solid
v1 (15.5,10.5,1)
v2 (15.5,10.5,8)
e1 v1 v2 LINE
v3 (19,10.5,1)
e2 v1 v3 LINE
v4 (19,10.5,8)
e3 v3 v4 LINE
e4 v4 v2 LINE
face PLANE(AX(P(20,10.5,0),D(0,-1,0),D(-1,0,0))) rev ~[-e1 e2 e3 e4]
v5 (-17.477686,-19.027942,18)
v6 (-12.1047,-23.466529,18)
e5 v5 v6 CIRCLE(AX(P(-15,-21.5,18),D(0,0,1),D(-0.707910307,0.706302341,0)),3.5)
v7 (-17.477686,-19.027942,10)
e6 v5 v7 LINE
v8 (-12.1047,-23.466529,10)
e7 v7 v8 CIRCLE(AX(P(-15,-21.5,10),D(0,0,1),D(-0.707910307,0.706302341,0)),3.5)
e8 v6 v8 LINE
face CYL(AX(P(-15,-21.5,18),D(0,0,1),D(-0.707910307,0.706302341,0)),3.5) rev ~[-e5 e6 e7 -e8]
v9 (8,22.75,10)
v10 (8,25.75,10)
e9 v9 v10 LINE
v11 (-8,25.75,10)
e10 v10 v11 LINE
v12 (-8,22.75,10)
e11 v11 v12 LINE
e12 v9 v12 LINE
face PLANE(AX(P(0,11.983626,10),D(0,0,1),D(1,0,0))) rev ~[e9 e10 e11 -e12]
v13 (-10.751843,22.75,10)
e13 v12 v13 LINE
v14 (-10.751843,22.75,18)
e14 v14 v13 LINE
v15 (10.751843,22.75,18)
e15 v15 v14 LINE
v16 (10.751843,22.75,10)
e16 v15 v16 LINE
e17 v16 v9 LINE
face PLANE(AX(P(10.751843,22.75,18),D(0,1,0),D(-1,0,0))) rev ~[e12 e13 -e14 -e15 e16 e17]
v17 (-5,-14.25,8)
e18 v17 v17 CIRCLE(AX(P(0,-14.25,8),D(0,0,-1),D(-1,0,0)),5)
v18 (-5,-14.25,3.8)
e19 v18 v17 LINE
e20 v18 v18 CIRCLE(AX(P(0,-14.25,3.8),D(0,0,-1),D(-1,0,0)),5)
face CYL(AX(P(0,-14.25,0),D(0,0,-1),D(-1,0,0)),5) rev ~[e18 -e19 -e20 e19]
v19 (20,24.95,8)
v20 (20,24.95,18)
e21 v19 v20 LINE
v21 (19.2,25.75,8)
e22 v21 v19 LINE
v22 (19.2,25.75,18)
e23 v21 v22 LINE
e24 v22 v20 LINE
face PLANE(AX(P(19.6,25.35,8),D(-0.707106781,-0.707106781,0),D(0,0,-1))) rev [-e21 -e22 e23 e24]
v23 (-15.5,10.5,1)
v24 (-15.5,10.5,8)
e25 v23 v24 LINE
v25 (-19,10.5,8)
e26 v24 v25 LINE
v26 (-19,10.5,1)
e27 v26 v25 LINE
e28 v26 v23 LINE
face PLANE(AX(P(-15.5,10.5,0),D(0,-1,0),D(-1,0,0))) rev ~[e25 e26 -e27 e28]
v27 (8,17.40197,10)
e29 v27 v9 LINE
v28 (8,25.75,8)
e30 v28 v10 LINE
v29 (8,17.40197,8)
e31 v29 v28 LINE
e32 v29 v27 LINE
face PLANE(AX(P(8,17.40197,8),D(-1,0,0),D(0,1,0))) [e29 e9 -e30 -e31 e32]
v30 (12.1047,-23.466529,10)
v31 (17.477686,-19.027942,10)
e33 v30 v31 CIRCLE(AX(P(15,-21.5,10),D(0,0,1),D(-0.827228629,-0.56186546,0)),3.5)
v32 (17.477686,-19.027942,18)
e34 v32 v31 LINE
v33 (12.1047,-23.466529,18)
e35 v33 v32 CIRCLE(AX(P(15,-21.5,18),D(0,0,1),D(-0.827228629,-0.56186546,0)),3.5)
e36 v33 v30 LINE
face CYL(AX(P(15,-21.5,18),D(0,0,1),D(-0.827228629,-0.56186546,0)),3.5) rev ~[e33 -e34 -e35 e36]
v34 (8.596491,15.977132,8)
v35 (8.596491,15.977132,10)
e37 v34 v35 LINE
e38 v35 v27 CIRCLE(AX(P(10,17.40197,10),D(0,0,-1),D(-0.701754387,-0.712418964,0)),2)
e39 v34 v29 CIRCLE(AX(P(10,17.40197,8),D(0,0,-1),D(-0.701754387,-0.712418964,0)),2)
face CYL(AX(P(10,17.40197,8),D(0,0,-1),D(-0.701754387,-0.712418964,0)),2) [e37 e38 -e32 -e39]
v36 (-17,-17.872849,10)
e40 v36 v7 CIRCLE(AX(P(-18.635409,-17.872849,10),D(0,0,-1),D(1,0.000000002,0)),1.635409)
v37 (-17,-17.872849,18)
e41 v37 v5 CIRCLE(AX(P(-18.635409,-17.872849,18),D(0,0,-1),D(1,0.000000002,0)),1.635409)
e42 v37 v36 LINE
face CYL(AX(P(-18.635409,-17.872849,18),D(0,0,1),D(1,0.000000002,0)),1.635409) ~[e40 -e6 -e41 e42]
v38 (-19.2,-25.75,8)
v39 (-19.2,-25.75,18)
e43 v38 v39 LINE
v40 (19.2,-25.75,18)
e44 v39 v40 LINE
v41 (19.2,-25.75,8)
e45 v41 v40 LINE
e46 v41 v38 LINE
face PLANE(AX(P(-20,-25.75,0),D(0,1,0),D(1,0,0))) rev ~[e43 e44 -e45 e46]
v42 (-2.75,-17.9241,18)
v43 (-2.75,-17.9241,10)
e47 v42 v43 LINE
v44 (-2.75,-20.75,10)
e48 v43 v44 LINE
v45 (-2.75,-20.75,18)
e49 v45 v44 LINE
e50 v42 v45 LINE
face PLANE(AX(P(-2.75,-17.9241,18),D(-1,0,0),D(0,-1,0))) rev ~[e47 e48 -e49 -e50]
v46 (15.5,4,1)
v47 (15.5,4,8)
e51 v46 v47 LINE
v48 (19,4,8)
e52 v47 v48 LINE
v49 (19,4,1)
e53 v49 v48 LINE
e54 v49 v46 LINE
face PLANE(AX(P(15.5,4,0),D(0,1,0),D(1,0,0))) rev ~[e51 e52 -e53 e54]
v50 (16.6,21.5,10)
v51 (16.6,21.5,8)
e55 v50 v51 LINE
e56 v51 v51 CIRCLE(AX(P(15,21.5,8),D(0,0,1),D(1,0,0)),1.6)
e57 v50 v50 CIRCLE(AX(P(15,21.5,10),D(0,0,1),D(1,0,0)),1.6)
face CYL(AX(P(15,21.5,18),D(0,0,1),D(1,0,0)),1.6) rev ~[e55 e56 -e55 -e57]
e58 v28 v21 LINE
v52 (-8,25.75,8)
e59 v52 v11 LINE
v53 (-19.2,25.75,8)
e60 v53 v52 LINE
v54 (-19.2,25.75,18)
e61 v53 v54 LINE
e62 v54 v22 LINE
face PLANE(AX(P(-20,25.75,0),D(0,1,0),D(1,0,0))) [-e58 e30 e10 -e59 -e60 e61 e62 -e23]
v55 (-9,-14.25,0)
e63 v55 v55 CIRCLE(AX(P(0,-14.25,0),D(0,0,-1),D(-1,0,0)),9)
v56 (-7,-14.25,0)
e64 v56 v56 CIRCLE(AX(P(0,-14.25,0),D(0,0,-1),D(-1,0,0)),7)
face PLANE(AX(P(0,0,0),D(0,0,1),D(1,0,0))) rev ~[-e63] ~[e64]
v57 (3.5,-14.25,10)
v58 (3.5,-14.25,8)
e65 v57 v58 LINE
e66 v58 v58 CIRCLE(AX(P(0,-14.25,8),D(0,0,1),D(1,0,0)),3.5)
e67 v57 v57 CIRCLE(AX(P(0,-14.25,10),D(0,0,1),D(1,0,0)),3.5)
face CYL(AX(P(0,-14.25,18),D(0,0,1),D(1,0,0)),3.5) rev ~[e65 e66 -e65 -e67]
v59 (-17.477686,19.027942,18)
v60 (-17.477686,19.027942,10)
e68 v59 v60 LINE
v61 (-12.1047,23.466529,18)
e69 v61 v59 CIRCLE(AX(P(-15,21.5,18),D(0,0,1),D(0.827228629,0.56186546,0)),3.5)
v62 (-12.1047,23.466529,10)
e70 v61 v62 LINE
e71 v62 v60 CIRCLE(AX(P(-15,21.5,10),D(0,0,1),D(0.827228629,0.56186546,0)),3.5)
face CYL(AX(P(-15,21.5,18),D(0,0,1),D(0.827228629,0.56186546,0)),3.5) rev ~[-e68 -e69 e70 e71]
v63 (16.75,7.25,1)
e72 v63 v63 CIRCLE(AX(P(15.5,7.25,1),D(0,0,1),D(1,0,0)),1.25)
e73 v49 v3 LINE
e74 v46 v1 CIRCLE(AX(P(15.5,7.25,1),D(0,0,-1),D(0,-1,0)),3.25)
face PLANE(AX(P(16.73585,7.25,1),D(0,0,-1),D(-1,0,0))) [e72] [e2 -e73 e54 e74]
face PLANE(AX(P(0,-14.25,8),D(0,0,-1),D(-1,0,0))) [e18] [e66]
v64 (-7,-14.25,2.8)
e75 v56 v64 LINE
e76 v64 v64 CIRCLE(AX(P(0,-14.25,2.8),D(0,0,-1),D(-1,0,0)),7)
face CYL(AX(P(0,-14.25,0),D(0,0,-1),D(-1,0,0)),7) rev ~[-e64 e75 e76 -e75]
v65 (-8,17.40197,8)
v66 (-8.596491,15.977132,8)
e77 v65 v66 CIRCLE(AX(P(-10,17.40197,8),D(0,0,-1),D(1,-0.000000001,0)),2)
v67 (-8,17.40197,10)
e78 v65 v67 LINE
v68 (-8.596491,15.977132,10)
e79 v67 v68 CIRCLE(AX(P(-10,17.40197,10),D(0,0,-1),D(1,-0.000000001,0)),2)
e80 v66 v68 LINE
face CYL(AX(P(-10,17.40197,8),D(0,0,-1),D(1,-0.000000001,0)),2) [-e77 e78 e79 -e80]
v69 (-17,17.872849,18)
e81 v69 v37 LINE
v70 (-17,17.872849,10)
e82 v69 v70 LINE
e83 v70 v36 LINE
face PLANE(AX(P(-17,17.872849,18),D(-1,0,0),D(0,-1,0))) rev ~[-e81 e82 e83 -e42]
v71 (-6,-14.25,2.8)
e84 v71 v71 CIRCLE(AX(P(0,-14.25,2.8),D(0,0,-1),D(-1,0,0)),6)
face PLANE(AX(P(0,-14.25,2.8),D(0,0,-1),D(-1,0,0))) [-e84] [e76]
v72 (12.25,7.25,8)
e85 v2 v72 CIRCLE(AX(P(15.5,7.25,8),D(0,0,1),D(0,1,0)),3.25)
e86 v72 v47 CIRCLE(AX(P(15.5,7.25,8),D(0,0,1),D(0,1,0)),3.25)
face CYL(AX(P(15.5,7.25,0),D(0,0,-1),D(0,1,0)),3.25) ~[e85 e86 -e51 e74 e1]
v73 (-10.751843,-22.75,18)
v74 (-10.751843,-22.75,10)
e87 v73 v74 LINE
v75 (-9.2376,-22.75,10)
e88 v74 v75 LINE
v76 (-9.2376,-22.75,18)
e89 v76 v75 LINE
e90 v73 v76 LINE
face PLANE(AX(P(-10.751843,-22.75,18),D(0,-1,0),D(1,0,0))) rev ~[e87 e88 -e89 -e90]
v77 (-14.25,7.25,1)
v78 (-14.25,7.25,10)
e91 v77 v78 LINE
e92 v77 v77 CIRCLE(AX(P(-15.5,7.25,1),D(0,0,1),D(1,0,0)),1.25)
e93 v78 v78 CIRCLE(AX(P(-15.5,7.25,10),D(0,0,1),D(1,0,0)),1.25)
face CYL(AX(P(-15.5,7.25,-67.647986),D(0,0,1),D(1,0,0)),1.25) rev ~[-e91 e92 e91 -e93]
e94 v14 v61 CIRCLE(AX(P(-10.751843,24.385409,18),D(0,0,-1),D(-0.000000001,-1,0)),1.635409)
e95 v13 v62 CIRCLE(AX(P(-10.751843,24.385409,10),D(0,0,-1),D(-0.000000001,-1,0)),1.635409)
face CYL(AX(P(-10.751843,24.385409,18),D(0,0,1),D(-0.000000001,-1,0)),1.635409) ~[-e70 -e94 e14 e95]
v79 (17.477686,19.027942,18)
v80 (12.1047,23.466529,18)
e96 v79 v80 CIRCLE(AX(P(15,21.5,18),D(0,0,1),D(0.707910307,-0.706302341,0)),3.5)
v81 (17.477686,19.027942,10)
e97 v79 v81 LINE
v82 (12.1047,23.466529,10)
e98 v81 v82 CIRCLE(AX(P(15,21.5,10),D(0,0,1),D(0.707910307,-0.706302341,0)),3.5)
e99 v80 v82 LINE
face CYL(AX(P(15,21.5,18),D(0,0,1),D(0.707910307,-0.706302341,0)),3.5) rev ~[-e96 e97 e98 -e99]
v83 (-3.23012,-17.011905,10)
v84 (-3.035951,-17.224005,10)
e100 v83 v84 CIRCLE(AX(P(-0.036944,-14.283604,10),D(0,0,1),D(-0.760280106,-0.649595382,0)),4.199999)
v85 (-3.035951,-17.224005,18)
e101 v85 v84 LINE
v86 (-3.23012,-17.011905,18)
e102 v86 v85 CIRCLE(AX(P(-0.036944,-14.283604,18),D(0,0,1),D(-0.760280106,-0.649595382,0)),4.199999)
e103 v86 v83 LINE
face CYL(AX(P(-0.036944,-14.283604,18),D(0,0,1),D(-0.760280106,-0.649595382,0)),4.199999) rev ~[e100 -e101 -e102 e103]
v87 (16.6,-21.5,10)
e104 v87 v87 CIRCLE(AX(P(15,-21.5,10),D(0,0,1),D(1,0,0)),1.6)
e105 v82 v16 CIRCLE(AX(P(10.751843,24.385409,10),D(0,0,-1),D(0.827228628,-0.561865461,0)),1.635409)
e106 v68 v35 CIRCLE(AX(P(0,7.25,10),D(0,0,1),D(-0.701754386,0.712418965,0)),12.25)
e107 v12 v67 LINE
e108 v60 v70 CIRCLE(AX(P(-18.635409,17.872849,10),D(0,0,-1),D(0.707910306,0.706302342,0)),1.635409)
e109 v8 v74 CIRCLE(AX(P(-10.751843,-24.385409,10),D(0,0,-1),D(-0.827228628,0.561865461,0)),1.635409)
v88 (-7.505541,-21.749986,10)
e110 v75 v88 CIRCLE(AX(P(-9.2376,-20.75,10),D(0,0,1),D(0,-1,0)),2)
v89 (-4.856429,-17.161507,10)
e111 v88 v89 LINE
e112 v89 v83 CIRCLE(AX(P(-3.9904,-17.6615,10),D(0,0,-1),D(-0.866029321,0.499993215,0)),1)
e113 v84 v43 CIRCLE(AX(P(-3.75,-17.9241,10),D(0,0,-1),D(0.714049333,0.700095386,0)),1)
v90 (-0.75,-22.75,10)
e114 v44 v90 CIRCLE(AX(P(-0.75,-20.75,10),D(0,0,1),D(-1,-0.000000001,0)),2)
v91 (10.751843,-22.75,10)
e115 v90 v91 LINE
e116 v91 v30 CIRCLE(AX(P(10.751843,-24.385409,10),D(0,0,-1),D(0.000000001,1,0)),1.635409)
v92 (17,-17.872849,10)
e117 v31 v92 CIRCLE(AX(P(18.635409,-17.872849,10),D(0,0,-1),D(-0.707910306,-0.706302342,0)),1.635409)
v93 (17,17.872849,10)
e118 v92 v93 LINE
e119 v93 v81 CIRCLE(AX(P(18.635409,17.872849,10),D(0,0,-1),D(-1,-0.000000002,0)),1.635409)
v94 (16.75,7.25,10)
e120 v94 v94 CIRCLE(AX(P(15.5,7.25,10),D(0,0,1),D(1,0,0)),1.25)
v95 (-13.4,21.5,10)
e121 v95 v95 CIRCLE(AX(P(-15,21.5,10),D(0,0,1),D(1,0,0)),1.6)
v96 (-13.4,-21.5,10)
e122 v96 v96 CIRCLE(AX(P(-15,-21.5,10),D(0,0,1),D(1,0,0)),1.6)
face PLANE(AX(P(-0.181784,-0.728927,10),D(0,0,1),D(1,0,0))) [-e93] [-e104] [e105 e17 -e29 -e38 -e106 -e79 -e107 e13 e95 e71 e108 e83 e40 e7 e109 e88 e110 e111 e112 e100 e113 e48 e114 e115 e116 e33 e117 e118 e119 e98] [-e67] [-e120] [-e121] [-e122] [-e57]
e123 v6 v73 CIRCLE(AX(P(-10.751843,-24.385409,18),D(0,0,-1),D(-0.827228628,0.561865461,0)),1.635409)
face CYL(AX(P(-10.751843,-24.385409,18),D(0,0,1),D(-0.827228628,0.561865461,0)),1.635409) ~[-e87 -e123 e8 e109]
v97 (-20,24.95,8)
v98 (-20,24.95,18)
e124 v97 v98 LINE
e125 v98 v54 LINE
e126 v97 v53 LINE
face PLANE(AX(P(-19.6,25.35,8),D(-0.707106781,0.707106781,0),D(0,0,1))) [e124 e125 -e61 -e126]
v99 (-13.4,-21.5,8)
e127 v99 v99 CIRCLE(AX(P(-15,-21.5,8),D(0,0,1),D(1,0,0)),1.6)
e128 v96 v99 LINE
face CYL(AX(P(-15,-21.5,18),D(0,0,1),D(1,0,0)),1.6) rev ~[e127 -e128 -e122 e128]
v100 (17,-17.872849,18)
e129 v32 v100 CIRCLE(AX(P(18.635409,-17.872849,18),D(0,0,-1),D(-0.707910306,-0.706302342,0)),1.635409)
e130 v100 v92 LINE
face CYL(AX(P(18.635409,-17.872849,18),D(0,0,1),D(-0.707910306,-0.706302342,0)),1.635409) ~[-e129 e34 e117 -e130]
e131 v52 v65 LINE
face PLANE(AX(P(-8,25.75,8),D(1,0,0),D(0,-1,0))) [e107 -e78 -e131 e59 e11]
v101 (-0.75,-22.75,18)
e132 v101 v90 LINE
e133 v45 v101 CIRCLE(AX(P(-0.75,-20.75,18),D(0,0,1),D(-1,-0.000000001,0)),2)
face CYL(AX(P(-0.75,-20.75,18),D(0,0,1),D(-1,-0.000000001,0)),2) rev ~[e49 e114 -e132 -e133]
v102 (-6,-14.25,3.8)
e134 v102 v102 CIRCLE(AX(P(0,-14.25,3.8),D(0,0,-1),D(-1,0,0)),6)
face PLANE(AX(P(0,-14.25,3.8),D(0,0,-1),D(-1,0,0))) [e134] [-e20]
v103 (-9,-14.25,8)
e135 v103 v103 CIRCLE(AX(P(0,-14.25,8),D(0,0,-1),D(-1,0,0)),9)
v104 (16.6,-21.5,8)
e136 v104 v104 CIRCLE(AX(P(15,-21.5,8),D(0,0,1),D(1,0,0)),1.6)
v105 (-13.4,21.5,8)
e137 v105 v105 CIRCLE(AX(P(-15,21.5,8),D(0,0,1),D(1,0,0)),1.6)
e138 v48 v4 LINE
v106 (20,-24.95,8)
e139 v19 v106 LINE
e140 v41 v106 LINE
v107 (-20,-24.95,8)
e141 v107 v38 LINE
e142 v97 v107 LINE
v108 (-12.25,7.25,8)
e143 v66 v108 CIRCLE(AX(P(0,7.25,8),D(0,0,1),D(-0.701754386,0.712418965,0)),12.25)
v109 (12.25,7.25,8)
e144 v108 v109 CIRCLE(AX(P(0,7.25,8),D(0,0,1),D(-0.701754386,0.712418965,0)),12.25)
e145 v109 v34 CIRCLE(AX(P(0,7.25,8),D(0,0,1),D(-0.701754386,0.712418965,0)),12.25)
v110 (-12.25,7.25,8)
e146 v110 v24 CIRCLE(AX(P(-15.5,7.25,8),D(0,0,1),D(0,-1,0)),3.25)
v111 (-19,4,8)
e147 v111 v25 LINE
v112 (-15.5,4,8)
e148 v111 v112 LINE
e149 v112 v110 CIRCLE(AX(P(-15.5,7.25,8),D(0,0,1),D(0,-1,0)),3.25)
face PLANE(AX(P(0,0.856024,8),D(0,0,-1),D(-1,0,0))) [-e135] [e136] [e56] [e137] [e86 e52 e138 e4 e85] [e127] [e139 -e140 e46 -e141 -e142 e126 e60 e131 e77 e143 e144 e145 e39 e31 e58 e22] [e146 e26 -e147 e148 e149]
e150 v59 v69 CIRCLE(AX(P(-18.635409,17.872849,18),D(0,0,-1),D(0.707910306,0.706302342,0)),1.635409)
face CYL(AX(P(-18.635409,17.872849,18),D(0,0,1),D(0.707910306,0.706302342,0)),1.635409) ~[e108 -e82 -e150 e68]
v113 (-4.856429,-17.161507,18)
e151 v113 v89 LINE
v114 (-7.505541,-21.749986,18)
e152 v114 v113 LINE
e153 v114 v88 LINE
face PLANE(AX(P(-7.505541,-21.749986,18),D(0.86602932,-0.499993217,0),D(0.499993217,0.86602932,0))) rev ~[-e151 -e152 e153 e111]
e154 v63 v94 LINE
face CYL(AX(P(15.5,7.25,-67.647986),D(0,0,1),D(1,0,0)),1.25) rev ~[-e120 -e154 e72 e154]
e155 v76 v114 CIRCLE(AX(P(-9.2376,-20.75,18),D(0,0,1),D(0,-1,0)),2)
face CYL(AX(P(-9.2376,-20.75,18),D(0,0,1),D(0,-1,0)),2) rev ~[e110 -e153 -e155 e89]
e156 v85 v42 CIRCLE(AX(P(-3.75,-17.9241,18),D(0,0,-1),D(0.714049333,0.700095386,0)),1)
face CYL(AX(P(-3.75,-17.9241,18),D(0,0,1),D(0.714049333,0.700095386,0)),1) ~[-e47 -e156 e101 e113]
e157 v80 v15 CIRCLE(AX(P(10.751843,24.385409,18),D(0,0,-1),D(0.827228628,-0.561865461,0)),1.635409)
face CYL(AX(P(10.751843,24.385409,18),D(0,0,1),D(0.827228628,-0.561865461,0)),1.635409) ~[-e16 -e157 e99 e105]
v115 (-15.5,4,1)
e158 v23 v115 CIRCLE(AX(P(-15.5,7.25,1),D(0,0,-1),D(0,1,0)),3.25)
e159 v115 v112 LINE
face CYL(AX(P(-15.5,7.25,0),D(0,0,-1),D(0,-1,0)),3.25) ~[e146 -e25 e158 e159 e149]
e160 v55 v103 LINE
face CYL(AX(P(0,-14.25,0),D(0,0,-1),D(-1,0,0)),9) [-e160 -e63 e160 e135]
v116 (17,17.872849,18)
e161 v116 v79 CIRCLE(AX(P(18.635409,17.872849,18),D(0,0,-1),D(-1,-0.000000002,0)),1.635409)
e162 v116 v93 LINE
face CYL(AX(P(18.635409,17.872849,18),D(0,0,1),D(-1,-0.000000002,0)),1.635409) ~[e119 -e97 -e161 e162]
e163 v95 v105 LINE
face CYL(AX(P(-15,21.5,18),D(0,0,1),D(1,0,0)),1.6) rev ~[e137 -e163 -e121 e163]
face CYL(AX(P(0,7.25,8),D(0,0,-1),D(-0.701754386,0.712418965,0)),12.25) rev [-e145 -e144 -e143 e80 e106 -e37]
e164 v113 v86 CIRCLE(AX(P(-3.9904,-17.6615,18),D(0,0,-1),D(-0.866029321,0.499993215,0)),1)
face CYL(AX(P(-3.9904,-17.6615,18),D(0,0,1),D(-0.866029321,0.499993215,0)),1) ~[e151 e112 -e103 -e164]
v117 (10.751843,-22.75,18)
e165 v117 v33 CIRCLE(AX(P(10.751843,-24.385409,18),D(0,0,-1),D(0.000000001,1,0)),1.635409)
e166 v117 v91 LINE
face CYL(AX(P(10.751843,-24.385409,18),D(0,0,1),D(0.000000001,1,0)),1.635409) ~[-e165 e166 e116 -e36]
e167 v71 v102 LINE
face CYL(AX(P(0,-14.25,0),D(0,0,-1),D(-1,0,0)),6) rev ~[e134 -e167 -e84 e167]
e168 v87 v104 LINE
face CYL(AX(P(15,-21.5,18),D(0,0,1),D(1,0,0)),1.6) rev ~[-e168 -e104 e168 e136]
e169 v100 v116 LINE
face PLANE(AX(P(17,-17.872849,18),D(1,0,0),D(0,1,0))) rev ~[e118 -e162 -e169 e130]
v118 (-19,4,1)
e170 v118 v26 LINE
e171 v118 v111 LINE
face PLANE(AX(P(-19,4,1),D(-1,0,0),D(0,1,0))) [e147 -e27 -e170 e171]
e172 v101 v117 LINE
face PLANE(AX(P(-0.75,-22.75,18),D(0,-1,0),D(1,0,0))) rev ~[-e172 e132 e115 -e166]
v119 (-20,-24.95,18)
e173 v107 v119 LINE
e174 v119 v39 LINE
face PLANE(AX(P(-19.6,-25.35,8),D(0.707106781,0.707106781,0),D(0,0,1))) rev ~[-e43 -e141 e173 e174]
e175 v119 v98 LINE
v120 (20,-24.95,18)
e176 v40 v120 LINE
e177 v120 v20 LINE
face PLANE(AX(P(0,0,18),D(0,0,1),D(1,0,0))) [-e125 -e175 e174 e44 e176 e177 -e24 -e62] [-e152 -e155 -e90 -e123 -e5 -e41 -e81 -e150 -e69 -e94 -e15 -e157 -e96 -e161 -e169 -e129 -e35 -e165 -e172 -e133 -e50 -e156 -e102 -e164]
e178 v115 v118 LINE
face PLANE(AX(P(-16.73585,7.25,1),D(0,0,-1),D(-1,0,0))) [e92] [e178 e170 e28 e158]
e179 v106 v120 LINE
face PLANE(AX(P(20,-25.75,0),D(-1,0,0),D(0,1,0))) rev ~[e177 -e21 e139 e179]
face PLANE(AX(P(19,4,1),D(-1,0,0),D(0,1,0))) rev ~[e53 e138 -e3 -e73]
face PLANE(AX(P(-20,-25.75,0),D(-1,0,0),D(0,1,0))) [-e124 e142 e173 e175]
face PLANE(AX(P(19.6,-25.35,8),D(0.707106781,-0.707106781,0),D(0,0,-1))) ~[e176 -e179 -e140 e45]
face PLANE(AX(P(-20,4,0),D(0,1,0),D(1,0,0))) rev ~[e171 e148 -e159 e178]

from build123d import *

# Parameters (mm, degrees)
SKETCH1_W             = 40
SKETCH1_H             = 51.5
BOSS_EXTRUDE1_DEPTH   = 18
SKETCH3_R             = 1.6
CUT_EXTRUDE1_DEPTH    = 19
SKETCH4_R             = 3.5
CUT_EXTRUDE2_DEPTH    = 18
CUT_EXTRUDE3_DEPTH    = 8
SKETCH6_R             = 9
CUT_EXTRUDE4_DEPTH    = 8
SKETCH7_R             = 7
CUT_EXTRUDE5_DEPTH    = 2.8
SKETCH8_R             = 6
CUT_EXTRUDE6_DEPTH    = 3.8
SKETCH9_R             = 5
CUT_EXTRUDE7_DEPTH    = 8
M3X0_5_TAPPED_HOLE1_D = 2.5
CUT_EXTRUDE8_DEPTH    = 2
CUT_EXTRUDE9_DEPTH    = 1
CHAMFER1_SIZE         = 0.8
SKETCH14_W            = 1
SKETCH14_H            = 6.5
CUT_EXTRUDE10_DEPTH   = 7


with BuildPart() as part:
    # Sketch1 → Boss-Extrude1 (new body)
    with BuildSketch(Plane.XY):
        Rectangle(SKETCH1_W, SKETCH1_H)
    extrude(amount=BOSS_EXTRUDE1_DEPTH)

    # Sketch3 → Cut-Extrude1 (cut, through all)
    with BuildSketch(Plane.XY.offset(18)):
        with Locations((-15, 21.5)):
            Circle(SKETCH3_R)
        with Locations((-15, -21.5)):
            Circle(SKETCH3_R)
        with Locations((15, 21.5)):
            Circle(SKETCH3_R)
        with Locations((15, -21.5)):
            Circle(SKETCH3_R)
    extrude(amount=-CUT_EXTRUDE1_DEPTH, mode=Mode.SUBTRACT)

    # Sketch4 → Cut-Extrude2 (cut)
    with BuildSketch(Plane.XY.offset(18)):
        with Locations((0, -14.25)):
            Circle(SKETCH4_R)
    extrude(amount=-CUT_EXTRUDE2_DEPTH, mode=Mode.SUBTRACT)

    # Sketch5 → Cut-Extrude3 (cut)
    with BuildSketch(Plane.XY.offset(18)):
        with BuildLine():
            Line((-17, 17.872848693), (-17, -17.872848693))
            ThreePointArc((-17, -17.872848693), (-17.124132538, -18.49783351), (-17.477686074, -19.027941805))
            ThreePointArc((-17.477686074, -19.027941805), (-17.229095042, -24.198357888), (-12.104699799, -23.466529111))
            ThreePointArc((-12.104699799, -23.466529111), (-11.517289712, -22.940191537), (-10.751842764, -22.75))
            Line((-10.751842764, -22.75), (-9.2376, -22.75))
            ThreePointArc((-9.2376, -22.75), (-8.237593216, -22.482046891), (-7.50554136, -21.749986433))
            Line((-7.50554136, -21.749986433), (-4.85642932, -17.161506784))
            ThreePointArc((-4.85642932, -17.161506784), (-4.082002001, -16.665704301), (-3.230119897, -17.011904614))
            ThreePointArc((-3.230119897, -17.011904614), (-3.134851007, -17.11961684), (-3.035950666, -17.224004614))
            ThreePointArc((-3.035950666, -17.224004614), (-2.824243732, -17.545979208), (-2.75, -17.9241))
            Line((-2.75, -17.9241), (-2.75, -20.75))
            ThreePointArc((-2.75, -20.75), (-2.164213562, -22.164213562), (-0.75, -22.75))
            Line((-0.75, -22.75), (10.751842764, -22.75))
            ThreePointArc((10.751842764, -22.75), (11.517289712, -22.940191537), (12.104699799, -23.466529111))
            ThreePointArc((12.104699799, -23.466529111), (17.229095042, -24.198357888), (17.477686074, -19.027941805))
            ThreePointArc((17.477686074, -19.027941805), (17.124132538, -18.49783351), (17, -17.872848693))
            Line((17, -17.872848693), (17, 17.872848693))
            ThreePointArc((17, 17.872848693), (17.124132538, 18.49783351), (17.477686074, 19.027941805))
            ThreePointArc((17.477686074, 19.027941805), (17.229095042, 24.198357888), (12.104699799, 23.466529111))
            ThreePointArc((12.104699799, 23.466529111), (11.517289712, 22.940191537), (10.751842764, 22.75))
            Line((10.751842764, 22.75), (-10.751842764, 22.75))
            ThreePointArc((-10.751842764, 22.75), (-11.517289712, 22.940191537), (-12.104699799, 23.466529111))
            ThreePointArc((-12.104699799, 23.466529111), (-17.229095042, 24.198357888), (-17.477686074, 19.027941805))
            ThreePointArc((-17.477686074, 19.027941805), (-17.124132538, 18.49783351), (-17, 17.872848693))
        make_face()
    extrude(amount=-CUT_EXTRUDE3_DEPTH, mode=Mode.SUBTRACT)

    # Sketch6 → Cut-Extrude4 (cut)
    with BuildSketch(Plane(origin=(0, 0, 0), x_dir=(-1, 0, 0), z_dir=(0, 0, -1))):
        with BuildLine():
            Line((-20, 10.5), (-15.5, 10.5))
            ThreePointArc((-15.5, 10.5), (-12.25, 7.25), (-15.5, 4))
            Line((-15.5, 4), (-20, 4))
            Line((-20, 4), (-20, -25.75))
            Line((-20, -25.75), (20, -25.75))
            Line((20, -25.75), (20, 4))
            Line((20, 4), (15.5, 4))
            ThreePointArc((15.5, 4), (12.25, 7.25), (15.5, 10.5))
            Line((15.5, 10.5), (20, 10.5))
            Line((20, 10.5), (20, 25.75))
            Line((20, 25.75), (-20, 25.75))
            Line((-20, 25.75), (-20, 10.5))
        make_face()
        with Locations((0, -14.25)):
            Circle(SKETCH6_R, mode=Mode.SUBTRACT)
    extrude(amount=-CUT_EXTRUDE4_DEPTH, mode=Mode.SUBTRACT)

    # Sketch7 → Cut-Extrude5 (cut)
    with BuildSketch(Plane(origin=(0, 0, 0), x_dir=(-1, 0, 0), z_dir=(0, 0, -1))):
        with Locations((0, -14.25)):
            Circle(SKETCH7_R)
    extrude(amount=-CUT_EXTRUDE5_DEPTH, mode=Mode.SUBTRACT)

    # Sketch8 → Cut-Extrude6 (cut)
    with BuildSketch(Plane(origin=(0, 0, 0), x_dir=(-1, 0, 0), z_dir=(0, 0, -1))):
        with Locations((0, -14.25)):
            Circle(SKETCH8_R)
    extrude(amount=-CUT_EXTRUDE6_DEPTH, mode=Mode.SUBTRACT)

    # Sketch9 → Cut-Extrude7 (cut)
    with BuildSketch(Plane(origin=(0, 0, 0), x_dir=(-1, 0, 0), z_dir=(0, 0, -1))):
        with Locations((0, -14.25)):
            Circle(SKETCH9_R)
    extrude(amount=-CUT_EXTRUDE7_DEPTH, mode=Mode.SUBTRACT)

    # M3x0.5 Tapped Hole1 (through all)
    with Locations(Plane(origin=(0, 0, 0), x_dir=(-1, 0, 0), z_dir=(0, 0, -1))):
        with Locations((-15.5, 7.25), (15.5, 7.25)):
            Hole(M3X0_5_TAPPED_HOLE1_D / 2)

    # Sketch12 → Cut-Extrude8 (cut)
    with BuildSketch(Plane(origin=(0, 0, 8), x_dir=(-1, 0, 0), z_dir=(0, 0, -1))):
        with BuildLine():
            Line((-8, 17.401970252), (-8, 25.75))
            Line((-8, 25.75), (8, 25.75))
            Line((8, 25.75), (8, 17.401970252))
            ThreePointArc((8, 17.401970252), (8.155139905, 16.629641806), (8.596491228, 15.977132322))
            ThreePointArc((8.596491228, 15.977132322), (0, -5), (-8.596491228, 15.977132322))
            ThreePointArc((-8.596491228, 15.977132322), (-8.155139905, 16.629641806), (-8, 17.401970252))
        make_face()
    extrude(amount=-CUT_EXTRUDE8_DEPTH, mode=Mode.SUBTRACT)

    # Sketch13 → Cut-Extrude9 (cut)
    with BuildSketch(Plane(origin=(0, 0, 0), x_dir=(-1, 0, 0), z_dir=(0, 0, -1))):
        with BuildLine():
            Line((-20, 10.5), (-20, 4))
            Line((-20, 4), (-15.5, 4))
            ThreePointArc((-15.5, 4), (-12.25, 7.25), (-15.5, 10.5))
            Line((-15.5, 10.5), (-20, 10.5))
        make_face()
        with BuildLine():
            Line((20, 4), (20, 10.5))
            Line((20, 10.5), (15.5, 10.5))
            ThreePointArc((15.5, 10.5), (12.25, 7.25), (15.5, 4))
            Line((15.5, 4), (20, 4))
        make_face()
    extrude(amount=-CUT_EXTRUDE9_DEPTH, mode=Mode.SUBTRACT)

    # Chamfer1
    chamfer1_edges = [part.edges().sort_by_distance(p)[0] for p in [
        (20, -25.75, 13),
        (-20, -25.75, 13),
        (-20, 25.75, 13),
        (20, 25.75, 13),
    ]]
    chamfer(chamfer1_edges, length=CHAMFER1_SIZE)

    # Sketch14 → Cut-Extrude10 (cut)
    with BuildSketch(Plane(origin=(0, 0, 1), x_dir=(-1, 0, 0), z_dir=(0, 0, -1))):
        with Locations((-19.5, 7.25)):
            Rectangle(SKETCH14_W, SKETCH14_H)
        with Locations((19.5, 7.25)):
            Rectangle(SKETCH14_W, SKETCH14_H)
    extrude(amount=-CUT_EXTRUDE10_DEPTH, mode=Mode.SUBTRACT)


solid = part.part
